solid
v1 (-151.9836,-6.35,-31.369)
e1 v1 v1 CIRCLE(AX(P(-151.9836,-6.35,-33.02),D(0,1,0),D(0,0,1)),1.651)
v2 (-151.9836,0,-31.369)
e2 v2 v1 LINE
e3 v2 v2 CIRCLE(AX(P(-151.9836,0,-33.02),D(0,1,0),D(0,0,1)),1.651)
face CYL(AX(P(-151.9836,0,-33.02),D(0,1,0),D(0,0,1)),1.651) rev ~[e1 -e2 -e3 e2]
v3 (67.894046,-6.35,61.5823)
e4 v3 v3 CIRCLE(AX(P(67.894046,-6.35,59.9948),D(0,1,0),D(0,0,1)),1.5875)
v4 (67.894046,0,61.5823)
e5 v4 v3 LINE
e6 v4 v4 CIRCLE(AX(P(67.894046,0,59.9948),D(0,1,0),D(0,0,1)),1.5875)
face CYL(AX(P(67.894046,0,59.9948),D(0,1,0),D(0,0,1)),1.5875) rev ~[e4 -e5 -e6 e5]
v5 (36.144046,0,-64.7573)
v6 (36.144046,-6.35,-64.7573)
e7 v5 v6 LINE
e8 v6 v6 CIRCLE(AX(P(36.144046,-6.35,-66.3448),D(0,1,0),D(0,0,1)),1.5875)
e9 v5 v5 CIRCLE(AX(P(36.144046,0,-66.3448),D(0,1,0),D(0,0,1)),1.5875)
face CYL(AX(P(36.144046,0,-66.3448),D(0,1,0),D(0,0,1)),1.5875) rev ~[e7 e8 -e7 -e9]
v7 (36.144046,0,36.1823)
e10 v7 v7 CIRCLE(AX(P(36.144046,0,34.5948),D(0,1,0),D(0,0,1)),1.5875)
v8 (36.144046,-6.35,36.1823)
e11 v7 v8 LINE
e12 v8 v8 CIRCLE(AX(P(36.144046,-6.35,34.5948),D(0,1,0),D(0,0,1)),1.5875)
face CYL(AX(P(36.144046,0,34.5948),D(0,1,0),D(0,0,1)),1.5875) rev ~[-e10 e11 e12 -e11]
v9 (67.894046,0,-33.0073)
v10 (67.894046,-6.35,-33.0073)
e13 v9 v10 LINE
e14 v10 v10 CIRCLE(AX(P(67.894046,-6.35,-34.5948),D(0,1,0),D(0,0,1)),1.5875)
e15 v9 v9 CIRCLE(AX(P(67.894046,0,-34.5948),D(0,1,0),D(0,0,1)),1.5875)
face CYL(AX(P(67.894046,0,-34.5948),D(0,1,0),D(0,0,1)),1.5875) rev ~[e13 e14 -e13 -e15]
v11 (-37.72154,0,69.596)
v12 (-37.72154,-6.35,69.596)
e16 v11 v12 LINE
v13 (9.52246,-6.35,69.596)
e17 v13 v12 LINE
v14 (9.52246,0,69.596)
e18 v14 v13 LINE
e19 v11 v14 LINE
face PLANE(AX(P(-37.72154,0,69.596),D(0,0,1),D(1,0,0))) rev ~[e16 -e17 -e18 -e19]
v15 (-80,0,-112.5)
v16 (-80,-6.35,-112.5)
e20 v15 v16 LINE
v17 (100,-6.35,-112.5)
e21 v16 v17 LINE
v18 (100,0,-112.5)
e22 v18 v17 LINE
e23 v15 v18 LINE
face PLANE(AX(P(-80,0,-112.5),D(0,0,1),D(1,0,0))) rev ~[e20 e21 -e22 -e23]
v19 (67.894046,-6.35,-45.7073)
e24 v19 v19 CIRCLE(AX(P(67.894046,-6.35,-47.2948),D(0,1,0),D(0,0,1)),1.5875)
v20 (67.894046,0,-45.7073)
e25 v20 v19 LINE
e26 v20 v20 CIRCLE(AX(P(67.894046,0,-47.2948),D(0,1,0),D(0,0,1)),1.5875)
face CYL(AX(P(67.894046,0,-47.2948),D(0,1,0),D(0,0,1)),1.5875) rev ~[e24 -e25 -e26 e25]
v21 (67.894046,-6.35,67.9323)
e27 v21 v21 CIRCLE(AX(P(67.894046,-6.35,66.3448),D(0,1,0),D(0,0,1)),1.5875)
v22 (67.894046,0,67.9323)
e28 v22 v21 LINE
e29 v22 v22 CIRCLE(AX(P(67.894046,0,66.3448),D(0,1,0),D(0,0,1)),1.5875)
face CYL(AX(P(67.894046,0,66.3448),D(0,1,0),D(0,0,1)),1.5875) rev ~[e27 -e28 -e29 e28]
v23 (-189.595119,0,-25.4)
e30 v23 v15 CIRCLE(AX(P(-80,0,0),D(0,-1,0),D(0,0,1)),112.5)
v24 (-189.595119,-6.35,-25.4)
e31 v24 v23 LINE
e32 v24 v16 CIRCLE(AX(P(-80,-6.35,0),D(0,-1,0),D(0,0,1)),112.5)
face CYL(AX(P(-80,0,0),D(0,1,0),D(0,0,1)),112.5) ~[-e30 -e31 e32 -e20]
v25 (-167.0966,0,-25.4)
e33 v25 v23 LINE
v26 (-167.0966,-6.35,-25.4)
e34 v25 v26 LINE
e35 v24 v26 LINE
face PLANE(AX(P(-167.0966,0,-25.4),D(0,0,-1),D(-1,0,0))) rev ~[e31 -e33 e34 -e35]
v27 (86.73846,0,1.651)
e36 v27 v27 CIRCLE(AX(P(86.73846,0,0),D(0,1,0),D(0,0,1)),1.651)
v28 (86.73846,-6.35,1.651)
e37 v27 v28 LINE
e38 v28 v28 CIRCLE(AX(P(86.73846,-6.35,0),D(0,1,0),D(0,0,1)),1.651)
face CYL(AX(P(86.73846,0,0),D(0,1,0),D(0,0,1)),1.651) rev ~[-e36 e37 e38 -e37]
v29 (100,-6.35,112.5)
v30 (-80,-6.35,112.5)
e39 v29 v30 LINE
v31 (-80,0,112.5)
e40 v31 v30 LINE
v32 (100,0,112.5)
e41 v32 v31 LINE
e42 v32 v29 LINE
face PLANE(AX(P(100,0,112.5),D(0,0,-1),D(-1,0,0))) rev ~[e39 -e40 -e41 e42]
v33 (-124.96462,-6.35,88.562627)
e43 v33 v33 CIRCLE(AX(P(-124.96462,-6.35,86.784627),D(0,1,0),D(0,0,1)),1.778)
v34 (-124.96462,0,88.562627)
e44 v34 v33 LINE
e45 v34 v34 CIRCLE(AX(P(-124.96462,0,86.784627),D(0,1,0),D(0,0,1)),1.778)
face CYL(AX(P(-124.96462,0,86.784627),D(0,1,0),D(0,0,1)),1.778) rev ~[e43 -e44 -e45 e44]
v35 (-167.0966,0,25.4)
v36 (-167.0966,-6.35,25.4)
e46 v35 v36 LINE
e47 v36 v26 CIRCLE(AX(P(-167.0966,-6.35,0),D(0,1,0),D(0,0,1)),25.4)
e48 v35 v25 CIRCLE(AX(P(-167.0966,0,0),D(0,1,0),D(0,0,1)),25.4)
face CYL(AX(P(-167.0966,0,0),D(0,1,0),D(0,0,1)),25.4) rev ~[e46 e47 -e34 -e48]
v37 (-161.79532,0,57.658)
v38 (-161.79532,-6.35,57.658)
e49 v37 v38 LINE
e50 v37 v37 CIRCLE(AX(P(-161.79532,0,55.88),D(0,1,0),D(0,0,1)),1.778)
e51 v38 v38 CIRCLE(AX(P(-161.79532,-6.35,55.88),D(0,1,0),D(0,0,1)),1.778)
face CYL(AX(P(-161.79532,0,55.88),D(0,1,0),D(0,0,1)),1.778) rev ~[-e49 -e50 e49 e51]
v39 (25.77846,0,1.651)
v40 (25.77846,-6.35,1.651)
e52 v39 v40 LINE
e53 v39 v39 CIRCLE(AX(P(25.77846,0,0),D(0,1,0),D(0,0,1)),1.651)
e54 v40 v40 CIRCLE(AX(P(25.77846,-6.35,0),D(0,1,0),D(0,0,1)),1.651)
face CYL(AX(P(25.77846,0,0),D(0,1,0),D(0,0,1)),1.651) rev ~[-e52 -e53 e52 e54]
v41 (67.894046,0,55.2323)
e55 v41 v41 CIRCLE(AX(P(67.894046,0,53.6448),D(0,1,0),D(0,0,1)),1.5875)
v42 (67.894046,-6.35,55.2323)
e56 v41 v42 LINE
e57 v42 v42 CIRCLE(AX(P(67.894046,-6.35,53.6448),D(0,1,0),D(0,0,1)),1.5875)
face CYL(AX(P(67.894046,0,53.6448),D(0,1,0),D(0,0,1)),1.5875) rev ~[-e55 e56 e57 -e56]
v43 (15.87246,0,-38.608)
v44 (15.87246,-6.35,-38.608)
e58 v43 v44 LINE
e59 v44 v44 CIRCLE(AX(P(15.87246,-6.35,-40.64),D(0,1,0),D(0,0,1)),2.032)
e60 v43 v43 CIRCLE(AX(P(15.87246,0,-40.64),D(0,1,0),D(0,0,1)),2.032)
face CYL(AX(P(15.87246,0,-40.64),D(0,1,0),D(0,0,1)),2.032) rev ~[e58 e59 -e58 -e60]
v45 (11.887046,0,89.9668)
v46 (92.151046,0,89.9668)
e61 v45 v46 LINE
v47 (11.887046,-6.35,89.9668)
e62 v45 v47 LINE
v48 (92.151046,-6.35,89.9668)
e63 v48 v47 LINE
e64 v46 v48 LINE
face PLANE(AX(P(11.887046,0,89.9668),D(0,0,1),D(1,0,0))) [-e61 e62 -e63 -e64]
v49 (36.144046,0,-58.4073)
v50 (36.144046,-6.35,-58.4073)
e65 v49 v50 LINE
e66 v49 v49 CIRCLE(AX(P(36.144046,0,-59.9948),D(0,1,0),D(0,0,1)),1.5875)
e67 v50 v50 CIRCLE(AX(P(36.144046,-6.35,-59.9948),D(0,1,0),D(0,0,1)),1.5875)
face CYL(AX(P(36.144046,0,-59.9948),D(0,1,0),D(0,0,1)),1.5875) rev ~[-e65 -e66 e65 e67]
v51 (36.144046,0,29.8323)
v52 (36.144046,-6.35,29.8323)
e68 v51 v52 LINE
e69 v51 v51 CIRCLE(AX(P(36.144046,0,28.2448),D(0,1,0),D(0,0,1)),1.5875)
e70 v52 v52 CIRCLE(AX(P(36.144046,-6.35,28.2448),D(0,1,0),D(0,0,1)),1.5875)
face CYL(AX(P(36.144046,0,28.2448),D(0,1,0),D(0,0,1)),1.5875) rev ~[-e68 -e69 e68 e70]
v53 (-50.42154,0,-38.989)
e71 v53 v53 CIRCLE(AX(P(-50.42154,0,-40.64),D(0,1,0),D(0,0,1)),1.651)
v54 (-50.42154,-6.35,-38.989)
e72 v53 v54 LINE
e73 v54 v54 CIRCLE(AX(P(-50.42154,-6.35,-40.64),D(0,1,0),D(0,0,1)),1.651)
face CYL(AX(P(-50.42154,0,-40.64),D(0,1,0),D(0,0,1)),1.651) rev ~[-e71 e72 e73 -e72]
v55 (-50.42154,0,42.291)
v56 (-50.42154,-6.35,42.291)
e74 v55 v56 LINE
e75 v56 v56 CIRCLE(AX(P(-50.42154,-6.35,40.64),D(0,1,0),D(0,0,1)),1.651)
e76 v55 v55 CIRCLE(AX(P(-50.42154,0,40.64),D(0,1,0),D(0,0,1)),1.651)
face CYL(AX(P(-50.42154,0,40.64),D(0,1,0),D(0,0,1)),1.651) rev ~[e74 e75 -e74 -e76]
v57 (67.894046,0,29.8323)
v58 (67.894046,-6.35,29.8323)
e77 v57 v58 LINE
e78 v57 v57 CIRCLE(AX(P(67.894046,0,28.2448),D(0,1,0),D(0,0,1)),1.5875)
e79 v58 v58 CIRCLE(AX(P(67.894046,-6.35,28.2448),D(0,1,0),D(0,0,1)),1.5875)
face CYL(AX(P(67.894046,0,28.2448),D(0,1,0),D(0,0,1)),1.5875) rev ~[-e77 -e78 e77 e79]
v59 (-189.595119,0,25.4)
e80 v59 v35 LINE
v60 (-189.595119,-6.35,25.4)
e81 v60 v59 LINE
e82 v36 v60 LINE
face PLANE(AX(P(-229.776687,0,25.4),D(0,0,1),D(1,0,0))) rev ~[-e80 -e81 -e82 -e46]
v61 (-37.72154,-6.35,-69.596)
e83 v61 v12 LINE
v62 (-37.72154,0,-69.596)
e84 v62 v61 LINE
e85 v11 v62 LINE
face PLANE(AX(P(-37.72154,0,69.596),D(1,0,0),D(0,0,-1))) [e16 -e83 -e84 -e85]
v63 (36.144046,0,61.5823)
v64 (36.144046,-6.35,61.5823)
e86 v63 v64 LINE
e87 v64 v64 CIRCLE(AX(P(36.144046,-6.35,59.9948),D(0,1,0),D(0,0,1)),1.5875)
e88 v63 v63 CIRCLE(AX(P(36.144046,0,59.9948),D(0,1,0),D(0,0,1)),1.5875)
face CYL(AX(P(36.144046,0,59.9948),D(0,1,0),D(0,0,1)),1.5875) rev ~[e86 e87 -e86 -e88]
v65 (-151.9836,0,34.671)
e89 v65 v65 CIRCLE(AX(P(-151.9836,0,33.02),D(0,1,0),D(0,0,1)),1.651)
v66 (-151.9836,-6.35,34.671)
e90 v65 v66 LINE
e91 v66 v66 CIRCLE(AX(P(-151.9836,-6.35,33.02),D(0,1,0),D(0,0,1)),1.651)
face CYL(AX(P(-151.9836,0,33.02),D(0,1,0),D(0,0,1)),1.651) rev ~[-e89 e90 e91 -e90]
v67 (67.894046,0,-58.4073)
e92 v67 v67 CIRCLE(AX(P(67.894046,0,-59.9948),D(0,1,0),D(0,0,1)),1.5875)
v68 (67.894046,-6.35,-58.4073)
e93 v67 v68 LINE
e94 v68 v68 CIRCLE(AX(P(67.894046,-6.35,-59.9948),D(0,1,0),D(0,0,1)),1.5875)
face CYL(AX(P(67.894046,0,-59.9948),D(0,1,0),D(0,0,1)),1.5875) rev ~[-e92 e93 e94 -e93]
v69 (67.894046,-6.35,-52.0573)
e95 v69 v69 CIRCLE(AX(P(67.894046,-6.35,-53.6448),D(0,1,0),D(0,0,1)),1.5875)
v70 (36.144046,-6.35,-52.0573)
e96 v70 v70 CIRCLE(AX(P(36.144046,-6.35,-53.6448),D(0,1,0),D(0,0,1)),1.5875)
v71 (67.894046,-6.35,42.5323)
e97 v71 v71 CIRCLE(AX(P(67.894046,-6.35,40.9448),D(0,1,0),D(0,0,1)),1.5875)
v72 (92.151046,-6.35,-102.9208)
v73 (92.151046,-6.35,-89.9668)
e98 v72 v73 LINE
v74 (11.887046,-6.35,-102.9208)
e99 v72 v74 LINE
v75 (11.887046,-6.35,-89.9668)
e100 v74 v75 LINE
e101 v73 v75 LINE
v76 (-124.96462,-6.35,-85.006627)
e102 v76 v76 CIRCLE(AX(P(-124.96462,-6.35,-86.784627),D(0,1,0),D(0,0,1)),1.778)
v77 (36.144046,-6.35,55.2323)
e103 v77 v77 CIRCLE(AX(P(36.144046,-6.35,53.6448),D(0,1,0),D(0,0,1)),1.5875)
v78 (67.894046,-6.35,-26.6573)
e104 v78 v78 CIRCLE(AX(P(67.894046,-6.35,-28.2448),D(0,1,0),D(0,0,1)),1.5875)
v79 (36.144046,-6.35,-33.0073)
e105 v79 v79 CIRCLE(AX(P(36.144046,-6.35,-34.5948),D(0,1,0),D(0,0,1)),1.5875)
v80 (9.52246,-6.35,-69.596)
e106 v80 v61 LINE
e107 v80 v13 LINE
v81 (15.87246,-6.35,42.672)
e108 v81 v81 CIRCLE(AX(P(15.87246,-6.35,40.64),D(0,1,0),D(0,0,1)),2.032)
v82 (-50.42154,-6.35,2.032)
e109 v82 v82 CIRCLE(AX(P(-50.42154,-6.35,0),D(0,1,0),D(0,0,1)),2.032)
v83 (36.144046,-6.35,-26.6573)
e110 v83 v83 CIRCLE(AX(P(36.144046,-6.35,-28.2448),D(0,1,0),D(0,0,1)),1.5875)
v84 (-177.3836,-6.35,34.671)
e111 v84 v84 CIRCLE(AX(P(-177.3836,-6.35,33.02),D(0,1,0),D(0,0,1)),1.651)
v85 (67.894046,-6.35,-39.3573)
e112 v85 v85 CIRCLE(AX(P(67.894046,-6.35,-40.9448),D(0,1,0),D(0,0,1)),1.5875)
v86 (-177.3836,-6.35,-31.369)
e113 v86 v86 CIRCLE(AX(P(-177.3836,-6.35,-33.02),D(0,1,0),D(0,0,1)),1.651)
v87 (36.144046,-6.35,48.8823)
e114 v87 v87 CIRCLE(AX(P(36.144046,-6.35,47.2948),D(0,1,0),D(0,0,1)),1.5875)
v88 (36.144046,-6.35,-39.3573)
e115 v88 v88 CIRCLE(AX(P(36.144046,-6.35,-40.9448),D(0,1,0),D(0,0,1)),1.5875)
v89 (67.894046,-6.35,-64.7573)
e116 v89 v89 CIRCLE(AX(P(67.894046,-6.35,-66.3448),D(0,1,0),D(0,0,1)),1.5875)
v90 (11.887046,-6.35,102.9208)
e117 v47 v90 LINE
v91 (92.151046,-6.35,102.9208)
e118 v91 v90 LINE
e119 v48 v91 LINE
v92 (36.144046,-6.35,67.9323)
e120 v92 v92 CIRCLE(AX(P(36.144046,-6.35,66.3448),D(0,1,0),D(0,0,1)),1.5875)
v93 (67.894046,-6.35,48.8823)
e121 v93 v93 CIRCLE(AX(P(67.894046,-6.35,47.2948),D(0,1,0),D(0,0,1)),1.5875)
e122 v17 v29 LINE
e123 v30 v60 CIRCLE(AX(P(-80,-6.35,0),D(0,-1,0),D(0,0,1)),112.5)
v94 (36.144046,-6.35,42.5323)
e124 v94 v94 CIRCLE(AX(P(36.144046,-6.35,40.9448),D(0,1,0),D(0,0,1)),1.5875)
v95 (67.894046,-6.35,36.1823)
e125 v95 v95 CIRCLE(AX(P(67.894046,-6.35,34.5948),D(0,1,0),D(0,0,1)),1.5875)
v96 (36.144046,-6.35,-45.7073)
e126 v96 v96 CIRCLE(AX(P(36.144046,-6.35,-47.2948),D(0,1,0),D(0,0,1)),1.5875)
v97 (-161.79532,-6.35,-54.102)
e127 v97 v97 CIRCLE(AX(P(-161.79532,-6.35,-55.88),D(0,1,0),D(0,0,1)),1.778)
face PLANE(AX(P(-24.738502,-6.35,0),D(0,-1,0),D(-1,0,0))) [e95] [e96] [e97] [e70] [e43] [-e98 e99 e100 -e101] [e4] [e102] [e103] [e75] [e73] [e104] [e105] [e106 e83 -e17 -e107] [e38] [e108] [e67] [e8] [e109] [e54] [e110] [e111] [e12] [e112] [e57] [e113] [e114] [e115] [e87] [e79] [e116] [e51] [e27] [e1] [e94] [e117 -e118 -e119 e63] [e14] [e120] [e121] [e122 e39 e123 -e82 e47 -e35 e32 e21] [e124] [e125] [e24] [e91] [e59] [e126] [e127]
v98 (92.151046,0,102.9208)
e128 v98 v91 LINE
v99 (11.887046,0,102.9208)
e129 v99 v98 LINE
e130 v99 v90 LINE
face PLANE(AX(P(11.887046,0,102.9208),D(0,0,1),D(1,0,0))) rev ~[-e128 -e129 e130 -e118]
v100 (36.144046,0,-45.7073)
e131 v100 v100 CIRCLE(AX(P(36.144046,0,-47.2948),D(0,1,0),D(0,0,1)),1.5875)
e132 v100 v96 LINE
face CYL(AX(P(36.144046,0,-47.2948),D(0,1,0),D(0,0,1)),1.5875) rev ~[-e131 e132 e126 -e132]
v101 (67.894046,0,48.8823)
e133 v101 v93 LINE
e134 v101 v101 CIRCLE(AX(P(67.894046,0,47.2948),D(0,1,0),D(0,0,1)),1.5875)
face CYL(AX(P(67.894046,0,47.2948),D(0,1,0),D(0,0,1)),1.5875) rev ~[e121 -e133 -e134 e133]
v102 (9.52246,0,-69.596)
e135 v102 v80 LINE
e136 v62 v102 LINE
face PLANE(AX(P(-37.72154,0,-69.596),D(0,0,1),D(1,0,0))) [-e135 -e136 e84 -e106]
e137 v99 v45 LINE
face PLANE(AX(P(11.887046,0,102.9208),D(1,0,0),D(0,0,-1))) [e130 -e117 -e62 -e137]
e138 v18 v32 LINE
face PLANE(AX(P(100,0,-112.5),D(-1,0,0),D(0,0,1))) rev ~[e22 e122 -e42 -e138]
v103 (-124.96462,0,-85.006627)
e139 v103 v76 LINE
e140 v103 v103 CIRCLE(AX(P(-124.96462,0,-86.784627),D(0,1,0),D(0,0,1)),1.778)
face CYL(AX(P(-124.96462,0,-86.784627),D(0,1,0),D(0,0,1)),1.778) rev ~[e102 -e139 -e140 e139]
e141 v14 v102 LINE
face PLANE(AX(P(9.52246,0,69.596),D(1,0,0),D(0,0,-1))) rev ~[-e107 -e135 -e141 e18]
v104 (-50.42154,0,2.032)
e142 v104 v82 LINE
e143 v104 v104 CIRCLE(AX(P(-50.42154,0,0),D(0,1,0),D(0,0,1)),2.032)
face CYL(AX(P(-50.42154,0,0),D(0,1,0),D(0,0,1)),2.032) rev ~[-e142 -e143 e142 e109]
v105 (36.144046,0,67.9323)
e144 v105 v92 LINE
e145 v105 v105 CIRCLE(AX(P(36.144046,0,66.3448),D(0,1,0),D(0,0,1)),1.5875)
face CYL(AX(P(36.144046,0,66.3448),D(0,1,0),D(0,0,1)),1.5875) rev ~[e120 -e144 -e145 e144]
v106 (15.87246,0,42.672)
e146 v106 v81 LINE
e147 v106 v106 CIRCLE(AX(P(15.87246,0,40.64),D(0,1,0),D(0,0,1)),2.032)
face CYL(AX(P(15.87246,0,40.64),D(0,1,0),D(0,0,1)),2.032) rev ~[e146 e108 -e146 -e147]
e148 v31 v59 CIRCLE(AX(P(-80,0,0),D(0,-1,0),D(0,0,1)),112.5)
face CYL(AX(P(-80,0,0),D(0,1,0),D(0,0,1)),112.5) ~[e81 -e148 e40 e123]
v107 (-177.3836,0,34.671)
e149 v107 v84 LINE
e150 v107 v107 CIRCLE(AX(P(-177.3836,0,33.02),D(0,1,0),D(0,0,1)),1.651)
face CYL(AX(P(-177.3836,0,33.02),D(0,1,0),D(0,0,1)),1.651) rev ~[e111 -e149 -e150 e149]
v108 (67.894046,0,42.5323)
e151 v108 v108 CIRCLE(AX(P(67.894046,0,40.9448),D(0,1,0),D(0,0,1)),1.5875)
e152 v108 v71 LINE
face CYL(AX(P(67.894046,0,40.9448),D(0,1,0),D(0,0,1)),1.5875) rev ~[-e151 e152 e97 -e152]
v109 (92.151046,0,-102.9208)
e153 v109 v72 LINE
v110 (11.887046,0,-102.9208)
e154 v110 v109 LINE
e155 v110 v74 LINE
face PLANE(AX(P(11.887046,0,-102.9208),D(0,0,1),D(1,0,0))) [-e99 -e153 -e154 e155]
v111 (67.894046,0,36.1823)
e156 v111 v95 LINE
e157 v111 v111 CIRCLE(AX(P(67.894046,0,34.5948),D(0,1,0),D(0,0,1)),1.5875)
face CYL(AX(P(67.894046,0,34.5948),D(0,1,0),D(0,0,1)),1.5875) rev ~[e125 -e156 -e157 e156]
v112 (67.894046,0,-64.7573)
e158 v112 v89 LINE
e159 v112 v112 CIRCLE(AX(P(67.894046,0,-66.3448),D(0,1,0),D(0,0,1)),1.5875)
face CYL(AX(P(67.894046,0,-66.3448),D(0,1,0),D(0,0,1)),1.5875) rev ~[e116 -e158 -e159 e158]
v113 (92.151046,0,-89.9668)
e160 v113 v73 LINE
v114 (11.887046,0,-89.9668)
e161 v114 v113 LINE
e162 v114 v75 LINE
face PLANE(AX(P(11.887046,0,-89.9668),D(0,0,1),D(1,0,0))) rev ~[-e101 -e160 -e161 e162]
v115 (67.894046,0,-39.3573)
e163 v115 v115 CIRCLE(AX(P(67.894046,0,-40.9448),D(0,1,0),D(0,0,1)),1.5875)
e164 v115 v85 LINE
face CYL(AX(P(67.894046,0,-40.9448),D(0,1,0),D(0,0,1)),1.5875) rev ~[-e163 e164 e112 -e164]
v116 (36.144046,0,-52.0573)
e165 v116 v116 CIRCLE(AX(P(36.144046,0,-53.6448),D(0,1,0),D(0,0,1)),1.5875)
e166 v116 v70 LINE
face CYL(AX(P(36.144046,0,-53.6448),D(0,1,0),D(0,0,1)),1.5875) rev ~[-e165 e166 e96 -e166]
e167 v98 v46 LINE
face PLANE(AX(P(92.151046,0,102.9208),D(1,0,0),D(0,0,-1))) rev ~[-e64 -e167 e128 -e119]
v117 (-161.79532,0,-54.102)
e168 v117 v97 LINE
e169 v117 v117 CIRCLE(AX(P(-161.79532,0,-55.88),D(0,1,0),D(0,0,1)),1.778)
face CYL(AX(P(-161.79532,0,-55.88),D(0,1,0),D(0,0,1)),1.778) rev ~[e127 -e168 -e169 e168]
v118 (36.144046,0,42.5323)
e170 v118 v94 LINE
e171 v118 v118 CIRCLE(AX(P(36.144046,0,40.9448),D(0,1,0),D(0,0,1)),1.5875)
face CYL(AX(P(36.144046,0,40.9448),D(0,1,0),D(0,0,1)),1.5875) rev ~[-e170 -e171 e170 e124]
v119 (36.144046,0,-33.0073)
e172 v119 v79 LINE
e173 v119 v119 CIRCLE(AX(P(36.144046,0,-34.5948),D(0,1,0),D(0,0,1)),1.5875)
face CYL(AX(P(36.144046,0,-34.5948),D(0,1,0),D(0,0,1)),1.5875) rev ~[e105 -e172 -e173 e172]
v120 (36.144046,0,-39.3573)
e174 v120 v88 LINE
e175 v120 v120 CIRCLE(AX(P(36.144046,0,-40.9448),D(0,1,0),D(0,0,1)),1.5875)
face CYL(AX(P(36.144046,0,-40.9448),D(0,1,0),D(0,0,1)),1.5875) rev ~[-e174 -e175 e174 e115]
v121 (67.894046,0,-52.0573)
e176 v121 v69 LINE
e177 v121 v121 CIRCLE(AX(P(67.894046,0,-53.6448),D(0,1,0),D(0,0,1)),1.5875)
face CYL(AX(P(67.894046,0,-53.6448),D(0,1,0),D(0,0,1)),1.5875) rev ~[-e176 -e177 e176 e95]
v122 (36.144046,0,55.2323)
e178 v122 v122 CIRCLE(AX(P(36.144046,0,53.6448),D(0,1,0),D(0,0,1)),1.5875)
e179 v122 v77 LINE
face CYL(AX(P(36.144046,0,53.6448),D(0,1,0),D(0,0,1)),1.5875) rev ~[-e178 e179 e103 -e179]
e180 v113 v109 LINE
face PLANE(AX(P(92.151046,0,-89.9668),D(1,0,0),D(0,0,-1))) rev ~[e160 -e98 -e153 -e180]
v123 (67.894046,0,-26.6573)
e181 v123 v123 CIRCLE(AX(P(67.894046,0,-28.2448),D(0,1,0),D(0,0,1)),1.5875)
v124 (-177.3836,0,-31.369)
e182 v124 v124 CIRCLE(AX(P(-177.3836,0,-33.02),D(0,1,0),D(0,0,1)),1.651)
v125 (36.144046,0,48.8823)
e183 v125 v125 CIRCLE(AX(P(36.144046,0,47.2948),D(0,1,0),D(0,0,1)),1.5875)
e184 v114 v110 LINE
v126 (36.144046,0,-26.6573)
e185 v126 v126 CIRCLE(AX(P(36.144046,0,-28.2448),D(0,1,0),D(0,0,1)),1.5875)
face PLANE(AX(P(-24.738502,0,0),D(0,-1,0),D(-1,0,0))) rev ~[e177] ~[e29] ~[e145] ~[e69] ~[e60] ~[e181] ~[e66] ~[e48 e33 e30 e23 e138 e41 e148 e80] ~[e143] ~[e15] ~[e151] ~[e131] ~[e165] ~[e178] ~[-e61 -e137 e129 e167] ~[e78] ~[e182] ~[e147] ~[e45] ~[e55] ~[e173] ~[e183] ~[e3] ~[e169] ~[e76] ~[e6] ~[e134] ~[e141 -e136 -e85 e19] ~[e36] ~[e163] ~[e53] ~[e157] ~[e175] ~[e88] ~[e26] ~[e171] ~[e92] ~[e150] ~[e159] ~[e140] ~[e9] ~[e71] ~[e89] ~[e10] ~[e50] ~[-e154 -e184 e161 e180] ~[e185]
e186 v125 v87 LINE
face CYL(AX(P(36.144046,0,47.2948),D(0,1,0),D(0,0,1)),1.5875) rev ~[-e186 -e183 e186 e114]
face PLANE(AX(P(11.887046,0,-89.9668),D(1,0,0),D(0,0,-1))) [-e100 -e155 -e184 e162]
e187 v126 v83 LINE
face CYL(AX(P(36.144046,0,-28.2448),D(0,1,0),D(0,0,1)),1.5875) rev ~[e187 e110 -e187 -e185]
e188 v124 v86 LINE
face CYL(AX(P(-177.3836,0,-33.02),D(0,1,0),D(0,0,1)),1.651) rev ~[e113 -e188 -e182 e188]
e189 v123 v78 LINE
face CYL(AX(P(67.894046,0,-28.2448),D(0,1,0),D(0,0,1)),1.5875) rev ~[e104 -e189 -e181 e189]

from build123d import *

# Parameters (mm, degrees)
BOSS_EXTRUDE1_DEPTH = 6.35
SKETCH2_R           = 1.5875
SKETCH2_W           = 80.264
SKETCH2_H           = 12.954
CUT_EXTRUDE1_DEPTH  = 224.053407282
SKETCH7_R           = 2.032
SKETCH7_R_2         = 1.651
SKETCH7_W           = 47.244
SKETCH7_H           = 139.192
CUT_EXTRUDE4_DEPTH  = 224.053407282
SKETCH8_R           = 1.651
CUT_EXTRUDE5_DEPTH  = 224.053407282
SKETCH9_R           = 1.778
CUT_EXTRUDE6_DEPTH  = 221.551312535


with BuildPart() as part:
    # Sketch1 → Boss-Extrude1 (new body)
    with BuildSketch(Plane(origin=(0, 0, 0), x_dir=(1, 0, 0), z_dir=(0, 1, 0))):
        with BuildLine():
            Line((-80, 112.5), (100, 112.5))
            Line((100, 112.5), (100, -112.5))
            Line((100, -112.5), (-80, -112.5))
            ThreePointArc((-80, -112.5), (-192.5, 0), (-80, 112.5))
        make_face()
    extrude(amount=-BOSS_EXTRUDE1_DEPTH)

    # Sketch2 → Cut-Extrude1 (cut, through all)
    with BuildSketch(Plane(origin=(0, 0, 0), x_dir=(1, 0, 0), z_dir=(0, 1, 0))):
        with Locations(Location((36.144045702, -66.3448, 0), (0, 0, 270))):
            Circle(SKETCH2_R)
        with Locations(Location((36.144045702, -59.9948, 0), (0, 0, 270))):
            Circle(SKETCH2_R)
        with Locations(Location((36.144045702, -53.6448, 0), (0, 0, 270))):
            Circle(SKETCH2_R)
        with Locations(Location((36.144045702, -47.2948, 0), (0, 0, 270))):
            Circle(SKETCH2_R)
        with Locations(Location((36.144045702, -40.9448, 0), (0, 0, 270))):
            Circle(SKETCH2_R)
        with Locations(Location((36.144045702, -34.5948, 0), (0, 0, 270))):
            Circle(SKETCH2_R)
        with Locations(Location((36.144045702, -28.2448, 0), (0, 0, 270))):
            Circle(SKETCH2_R)
        with Locations(Location((67.894045702, -66.3448, 0), (0, 0, 270))):
            Circle(SKETCH2_R)
        with Locations(Location((67.894045702, -59.9948, 0), (0, 0, 270))):
            Circle(SKETCH2_R)
        with Locations(Location((67.894045702, -53.6448, 0), (0, 0, 270))):
            Circle(SKETCH2_R)
        with Locations(Location((67.894045702, -47.2948, 0), (0, 0, 270))):
            Circle(SKETCH2_R)
        with Locations(Location((67.894045702, -40.9448, 0), (0, 0, 270))):
            Circle(SKETCH2_R)
        with Locations(Location((67.894045702, -34.5948, 0), (0, 0, 270))):
            Circle(SKETCH2_R)
        with Locations(Location((67.894045702, -28.2448, 0), (0, 0, 270))):
            Circle(SKETCH2_R)
        with Locations(Location((36.144045702, 66.3448, 0), (0, 0, 270))):
            Circle(SKETCH2_R)
        with Locations(Location((36.144045702, 59.9948, 0), (0, 0, 270))):
            Circle(SKETCH2_R)
        with Locations(Location((36.144045702, 53.6448, 0), (0, 0, 270))):
            Circle(SKETCH2_R)
        with Locations(Location((36.144045702, 47.2948, 0), (0, 0, 270))):
            Circle(SKETCH2_R)
        with Locations(Location((36.144045702, 40.9448, 0), (0, 0, 270))):
            Circle(SKETCH2_R)
        with Locations(Location((36.144045702, 34.5948, 0), (0, 0, 270))):
            Circle(SKETCH2_R)
        with Locations(Location((36.144045702, 28.2448, 0), (0, 0, 270))):
            Circle(SKETCH2_R)
        with Locations(Location((67.894045702, 66.3448, 0), (0, 0, 270))):
            Circle(SKETCH2_R)
        with Locations(Location((67.894045702, 59.9948, 0), (0, 0, 270))):
            Circle(SKETCH2_R)
        with Locations(Location((67.894045702, 53.6448, 0), (0, 0, 270))):
            Circle(SKETCH2_R)
        with Locations(Location((67.894045702, 47.2948, 0), (0, 0, 270))):
            Circle(SKETCH2_R)
        with Locations(Location((67.894045702, 40.9448, 0), (0, 0, 270))):
            Circle(SKETCH2_R)
        with Locations(Location((67.894045702, 34.5948, 0), (0, 0, 270))):
            Circle(SKETCH2_R)
        with Locations(Location((67.894045702, 28.2448, 0), (0, 0, 270))):
            Circle(SKETCH2_R)
        with Locations((52.019045702, -96.4438)):
            Rectangle(SKETCH2_W, SKETCH2_H)
        with Locations((52.019045702, 96.4438)):
            Rectangle(SKETCH2_W, SKETCH2_H)
    extrude(amount=-CUT_EXTRUDE1_DEPTH, mode=Mode.SUBTRACT)

    # Sketch7 → Cut-Extrude4 (cut, through all)
    with BuildSketch(Plane(origin=(0, 0, 0), x_dir=(1, 0, 0), z_dir=(0, 1, 0))):
        with Locations(Location((-50.421540267, 0, 0), (0, 0, 270))):
            Circle(SKETCH7_R)
        with Locations(Location((25.778459733, 0, 0), (0, 0, 270))):
            Circle(SKETCH7_R_2)
        with Locations(Location((86.738459733, 0, 0), (0, 0, 270))):
            Circle(SKETCH7_R_2)
        with Locations(Location((-50.421540267, 40.64, 0), (0, 0, 270))):
            Circle(SKETCH7_R_2)
        with Locations(Location((-50.421540267, -40.64, 0), (0, 0, 270))):
            Circle(SKETCH7_R_2)
        with Locations(Location((15.872459733, -40.64, 0), (0, 0, 270))):
            Circle(SKETCH7_R)
        with Locations(Location((15.872459733, 40.64, 0), (0, 0, 270))):
            Circle(SKETCH7_R)
        with Locations((-14.099540267, 0)):
            Rectangle(SKETCH7_W, SKETCH7_H)
    extrude(amount=-CUT_EXTRUDE4_DEPTH, mode=Mode.SUBTRACT)

    # Sketch8 → Cut-Extrude5 (cut, through all)
    with BuildSketch(Plane(origin=(0, 0, 0), x_dir=(1, 0, 0), z_dir=(0, 1, 0))):
        with Locations(Location((-177.3836, 33.02, 0), (0, 0, 270))):
            Circle(SKETCH8_R)
        with Locations(Location((-177.3836, -33.02, 0), (0, 0, 270))):
            Circle(SKETCH8_R)
        with Locations(Location((-151.9836, 33.02, 0), (0, 0, 270))):
            Circle(SKETCH8_R)
        with Locations(Location((-151.9836, -33.02, 0), (0, 0, 270))):
            Circle(SKETCH8_R)
        with BuildLine():
            Line((-167.0966, 25.4), (-229.776686608, 25.4))
            Line((-229.776686608, 25.4), (-229.776686608, -25.4))
            Line((-229.776686608, -25.4), (-167.0966, -25.4))
            ThreePointArc((-167.0966, -25.4), (-141.6966, 0), (-167.0966, 25.4))
        make_face()
    extrude(amount=-CUT_EXTRUDE5_DEPTH, mode=Mode.SUBTRACT)

    # Sketch9 → Cut-Extrude6 (cut, through all)
    with BuildSketch(Plane(origin=(0, 0, 0), x_dir=(1, 0, 0), z_dir=(0, 1, 0))):
        with Locations(Location((-161.795319669, -55.88, 0), (0, 0, 270))):
            Circle(SKETCH9_R)
        with Locations(Location((-124.964619687, -86.784626771, 0), (0, 0, 270))):
            Circle(SKETCH9_R)
        with Locations(Location((-161.795319669, 55.88, 0), (0, 0, 270))):
            Circle(SKETCH9_R)
        with Locations(Location((-124.964619687, 86.784626771, 0), (0, 0, 270))):
            Circle(SKETCH9_R)
    extrude(amount=-CUT_EXTRUDE6_DEPTH, mode=Mode.SUBTRACT)


solid = part.part
